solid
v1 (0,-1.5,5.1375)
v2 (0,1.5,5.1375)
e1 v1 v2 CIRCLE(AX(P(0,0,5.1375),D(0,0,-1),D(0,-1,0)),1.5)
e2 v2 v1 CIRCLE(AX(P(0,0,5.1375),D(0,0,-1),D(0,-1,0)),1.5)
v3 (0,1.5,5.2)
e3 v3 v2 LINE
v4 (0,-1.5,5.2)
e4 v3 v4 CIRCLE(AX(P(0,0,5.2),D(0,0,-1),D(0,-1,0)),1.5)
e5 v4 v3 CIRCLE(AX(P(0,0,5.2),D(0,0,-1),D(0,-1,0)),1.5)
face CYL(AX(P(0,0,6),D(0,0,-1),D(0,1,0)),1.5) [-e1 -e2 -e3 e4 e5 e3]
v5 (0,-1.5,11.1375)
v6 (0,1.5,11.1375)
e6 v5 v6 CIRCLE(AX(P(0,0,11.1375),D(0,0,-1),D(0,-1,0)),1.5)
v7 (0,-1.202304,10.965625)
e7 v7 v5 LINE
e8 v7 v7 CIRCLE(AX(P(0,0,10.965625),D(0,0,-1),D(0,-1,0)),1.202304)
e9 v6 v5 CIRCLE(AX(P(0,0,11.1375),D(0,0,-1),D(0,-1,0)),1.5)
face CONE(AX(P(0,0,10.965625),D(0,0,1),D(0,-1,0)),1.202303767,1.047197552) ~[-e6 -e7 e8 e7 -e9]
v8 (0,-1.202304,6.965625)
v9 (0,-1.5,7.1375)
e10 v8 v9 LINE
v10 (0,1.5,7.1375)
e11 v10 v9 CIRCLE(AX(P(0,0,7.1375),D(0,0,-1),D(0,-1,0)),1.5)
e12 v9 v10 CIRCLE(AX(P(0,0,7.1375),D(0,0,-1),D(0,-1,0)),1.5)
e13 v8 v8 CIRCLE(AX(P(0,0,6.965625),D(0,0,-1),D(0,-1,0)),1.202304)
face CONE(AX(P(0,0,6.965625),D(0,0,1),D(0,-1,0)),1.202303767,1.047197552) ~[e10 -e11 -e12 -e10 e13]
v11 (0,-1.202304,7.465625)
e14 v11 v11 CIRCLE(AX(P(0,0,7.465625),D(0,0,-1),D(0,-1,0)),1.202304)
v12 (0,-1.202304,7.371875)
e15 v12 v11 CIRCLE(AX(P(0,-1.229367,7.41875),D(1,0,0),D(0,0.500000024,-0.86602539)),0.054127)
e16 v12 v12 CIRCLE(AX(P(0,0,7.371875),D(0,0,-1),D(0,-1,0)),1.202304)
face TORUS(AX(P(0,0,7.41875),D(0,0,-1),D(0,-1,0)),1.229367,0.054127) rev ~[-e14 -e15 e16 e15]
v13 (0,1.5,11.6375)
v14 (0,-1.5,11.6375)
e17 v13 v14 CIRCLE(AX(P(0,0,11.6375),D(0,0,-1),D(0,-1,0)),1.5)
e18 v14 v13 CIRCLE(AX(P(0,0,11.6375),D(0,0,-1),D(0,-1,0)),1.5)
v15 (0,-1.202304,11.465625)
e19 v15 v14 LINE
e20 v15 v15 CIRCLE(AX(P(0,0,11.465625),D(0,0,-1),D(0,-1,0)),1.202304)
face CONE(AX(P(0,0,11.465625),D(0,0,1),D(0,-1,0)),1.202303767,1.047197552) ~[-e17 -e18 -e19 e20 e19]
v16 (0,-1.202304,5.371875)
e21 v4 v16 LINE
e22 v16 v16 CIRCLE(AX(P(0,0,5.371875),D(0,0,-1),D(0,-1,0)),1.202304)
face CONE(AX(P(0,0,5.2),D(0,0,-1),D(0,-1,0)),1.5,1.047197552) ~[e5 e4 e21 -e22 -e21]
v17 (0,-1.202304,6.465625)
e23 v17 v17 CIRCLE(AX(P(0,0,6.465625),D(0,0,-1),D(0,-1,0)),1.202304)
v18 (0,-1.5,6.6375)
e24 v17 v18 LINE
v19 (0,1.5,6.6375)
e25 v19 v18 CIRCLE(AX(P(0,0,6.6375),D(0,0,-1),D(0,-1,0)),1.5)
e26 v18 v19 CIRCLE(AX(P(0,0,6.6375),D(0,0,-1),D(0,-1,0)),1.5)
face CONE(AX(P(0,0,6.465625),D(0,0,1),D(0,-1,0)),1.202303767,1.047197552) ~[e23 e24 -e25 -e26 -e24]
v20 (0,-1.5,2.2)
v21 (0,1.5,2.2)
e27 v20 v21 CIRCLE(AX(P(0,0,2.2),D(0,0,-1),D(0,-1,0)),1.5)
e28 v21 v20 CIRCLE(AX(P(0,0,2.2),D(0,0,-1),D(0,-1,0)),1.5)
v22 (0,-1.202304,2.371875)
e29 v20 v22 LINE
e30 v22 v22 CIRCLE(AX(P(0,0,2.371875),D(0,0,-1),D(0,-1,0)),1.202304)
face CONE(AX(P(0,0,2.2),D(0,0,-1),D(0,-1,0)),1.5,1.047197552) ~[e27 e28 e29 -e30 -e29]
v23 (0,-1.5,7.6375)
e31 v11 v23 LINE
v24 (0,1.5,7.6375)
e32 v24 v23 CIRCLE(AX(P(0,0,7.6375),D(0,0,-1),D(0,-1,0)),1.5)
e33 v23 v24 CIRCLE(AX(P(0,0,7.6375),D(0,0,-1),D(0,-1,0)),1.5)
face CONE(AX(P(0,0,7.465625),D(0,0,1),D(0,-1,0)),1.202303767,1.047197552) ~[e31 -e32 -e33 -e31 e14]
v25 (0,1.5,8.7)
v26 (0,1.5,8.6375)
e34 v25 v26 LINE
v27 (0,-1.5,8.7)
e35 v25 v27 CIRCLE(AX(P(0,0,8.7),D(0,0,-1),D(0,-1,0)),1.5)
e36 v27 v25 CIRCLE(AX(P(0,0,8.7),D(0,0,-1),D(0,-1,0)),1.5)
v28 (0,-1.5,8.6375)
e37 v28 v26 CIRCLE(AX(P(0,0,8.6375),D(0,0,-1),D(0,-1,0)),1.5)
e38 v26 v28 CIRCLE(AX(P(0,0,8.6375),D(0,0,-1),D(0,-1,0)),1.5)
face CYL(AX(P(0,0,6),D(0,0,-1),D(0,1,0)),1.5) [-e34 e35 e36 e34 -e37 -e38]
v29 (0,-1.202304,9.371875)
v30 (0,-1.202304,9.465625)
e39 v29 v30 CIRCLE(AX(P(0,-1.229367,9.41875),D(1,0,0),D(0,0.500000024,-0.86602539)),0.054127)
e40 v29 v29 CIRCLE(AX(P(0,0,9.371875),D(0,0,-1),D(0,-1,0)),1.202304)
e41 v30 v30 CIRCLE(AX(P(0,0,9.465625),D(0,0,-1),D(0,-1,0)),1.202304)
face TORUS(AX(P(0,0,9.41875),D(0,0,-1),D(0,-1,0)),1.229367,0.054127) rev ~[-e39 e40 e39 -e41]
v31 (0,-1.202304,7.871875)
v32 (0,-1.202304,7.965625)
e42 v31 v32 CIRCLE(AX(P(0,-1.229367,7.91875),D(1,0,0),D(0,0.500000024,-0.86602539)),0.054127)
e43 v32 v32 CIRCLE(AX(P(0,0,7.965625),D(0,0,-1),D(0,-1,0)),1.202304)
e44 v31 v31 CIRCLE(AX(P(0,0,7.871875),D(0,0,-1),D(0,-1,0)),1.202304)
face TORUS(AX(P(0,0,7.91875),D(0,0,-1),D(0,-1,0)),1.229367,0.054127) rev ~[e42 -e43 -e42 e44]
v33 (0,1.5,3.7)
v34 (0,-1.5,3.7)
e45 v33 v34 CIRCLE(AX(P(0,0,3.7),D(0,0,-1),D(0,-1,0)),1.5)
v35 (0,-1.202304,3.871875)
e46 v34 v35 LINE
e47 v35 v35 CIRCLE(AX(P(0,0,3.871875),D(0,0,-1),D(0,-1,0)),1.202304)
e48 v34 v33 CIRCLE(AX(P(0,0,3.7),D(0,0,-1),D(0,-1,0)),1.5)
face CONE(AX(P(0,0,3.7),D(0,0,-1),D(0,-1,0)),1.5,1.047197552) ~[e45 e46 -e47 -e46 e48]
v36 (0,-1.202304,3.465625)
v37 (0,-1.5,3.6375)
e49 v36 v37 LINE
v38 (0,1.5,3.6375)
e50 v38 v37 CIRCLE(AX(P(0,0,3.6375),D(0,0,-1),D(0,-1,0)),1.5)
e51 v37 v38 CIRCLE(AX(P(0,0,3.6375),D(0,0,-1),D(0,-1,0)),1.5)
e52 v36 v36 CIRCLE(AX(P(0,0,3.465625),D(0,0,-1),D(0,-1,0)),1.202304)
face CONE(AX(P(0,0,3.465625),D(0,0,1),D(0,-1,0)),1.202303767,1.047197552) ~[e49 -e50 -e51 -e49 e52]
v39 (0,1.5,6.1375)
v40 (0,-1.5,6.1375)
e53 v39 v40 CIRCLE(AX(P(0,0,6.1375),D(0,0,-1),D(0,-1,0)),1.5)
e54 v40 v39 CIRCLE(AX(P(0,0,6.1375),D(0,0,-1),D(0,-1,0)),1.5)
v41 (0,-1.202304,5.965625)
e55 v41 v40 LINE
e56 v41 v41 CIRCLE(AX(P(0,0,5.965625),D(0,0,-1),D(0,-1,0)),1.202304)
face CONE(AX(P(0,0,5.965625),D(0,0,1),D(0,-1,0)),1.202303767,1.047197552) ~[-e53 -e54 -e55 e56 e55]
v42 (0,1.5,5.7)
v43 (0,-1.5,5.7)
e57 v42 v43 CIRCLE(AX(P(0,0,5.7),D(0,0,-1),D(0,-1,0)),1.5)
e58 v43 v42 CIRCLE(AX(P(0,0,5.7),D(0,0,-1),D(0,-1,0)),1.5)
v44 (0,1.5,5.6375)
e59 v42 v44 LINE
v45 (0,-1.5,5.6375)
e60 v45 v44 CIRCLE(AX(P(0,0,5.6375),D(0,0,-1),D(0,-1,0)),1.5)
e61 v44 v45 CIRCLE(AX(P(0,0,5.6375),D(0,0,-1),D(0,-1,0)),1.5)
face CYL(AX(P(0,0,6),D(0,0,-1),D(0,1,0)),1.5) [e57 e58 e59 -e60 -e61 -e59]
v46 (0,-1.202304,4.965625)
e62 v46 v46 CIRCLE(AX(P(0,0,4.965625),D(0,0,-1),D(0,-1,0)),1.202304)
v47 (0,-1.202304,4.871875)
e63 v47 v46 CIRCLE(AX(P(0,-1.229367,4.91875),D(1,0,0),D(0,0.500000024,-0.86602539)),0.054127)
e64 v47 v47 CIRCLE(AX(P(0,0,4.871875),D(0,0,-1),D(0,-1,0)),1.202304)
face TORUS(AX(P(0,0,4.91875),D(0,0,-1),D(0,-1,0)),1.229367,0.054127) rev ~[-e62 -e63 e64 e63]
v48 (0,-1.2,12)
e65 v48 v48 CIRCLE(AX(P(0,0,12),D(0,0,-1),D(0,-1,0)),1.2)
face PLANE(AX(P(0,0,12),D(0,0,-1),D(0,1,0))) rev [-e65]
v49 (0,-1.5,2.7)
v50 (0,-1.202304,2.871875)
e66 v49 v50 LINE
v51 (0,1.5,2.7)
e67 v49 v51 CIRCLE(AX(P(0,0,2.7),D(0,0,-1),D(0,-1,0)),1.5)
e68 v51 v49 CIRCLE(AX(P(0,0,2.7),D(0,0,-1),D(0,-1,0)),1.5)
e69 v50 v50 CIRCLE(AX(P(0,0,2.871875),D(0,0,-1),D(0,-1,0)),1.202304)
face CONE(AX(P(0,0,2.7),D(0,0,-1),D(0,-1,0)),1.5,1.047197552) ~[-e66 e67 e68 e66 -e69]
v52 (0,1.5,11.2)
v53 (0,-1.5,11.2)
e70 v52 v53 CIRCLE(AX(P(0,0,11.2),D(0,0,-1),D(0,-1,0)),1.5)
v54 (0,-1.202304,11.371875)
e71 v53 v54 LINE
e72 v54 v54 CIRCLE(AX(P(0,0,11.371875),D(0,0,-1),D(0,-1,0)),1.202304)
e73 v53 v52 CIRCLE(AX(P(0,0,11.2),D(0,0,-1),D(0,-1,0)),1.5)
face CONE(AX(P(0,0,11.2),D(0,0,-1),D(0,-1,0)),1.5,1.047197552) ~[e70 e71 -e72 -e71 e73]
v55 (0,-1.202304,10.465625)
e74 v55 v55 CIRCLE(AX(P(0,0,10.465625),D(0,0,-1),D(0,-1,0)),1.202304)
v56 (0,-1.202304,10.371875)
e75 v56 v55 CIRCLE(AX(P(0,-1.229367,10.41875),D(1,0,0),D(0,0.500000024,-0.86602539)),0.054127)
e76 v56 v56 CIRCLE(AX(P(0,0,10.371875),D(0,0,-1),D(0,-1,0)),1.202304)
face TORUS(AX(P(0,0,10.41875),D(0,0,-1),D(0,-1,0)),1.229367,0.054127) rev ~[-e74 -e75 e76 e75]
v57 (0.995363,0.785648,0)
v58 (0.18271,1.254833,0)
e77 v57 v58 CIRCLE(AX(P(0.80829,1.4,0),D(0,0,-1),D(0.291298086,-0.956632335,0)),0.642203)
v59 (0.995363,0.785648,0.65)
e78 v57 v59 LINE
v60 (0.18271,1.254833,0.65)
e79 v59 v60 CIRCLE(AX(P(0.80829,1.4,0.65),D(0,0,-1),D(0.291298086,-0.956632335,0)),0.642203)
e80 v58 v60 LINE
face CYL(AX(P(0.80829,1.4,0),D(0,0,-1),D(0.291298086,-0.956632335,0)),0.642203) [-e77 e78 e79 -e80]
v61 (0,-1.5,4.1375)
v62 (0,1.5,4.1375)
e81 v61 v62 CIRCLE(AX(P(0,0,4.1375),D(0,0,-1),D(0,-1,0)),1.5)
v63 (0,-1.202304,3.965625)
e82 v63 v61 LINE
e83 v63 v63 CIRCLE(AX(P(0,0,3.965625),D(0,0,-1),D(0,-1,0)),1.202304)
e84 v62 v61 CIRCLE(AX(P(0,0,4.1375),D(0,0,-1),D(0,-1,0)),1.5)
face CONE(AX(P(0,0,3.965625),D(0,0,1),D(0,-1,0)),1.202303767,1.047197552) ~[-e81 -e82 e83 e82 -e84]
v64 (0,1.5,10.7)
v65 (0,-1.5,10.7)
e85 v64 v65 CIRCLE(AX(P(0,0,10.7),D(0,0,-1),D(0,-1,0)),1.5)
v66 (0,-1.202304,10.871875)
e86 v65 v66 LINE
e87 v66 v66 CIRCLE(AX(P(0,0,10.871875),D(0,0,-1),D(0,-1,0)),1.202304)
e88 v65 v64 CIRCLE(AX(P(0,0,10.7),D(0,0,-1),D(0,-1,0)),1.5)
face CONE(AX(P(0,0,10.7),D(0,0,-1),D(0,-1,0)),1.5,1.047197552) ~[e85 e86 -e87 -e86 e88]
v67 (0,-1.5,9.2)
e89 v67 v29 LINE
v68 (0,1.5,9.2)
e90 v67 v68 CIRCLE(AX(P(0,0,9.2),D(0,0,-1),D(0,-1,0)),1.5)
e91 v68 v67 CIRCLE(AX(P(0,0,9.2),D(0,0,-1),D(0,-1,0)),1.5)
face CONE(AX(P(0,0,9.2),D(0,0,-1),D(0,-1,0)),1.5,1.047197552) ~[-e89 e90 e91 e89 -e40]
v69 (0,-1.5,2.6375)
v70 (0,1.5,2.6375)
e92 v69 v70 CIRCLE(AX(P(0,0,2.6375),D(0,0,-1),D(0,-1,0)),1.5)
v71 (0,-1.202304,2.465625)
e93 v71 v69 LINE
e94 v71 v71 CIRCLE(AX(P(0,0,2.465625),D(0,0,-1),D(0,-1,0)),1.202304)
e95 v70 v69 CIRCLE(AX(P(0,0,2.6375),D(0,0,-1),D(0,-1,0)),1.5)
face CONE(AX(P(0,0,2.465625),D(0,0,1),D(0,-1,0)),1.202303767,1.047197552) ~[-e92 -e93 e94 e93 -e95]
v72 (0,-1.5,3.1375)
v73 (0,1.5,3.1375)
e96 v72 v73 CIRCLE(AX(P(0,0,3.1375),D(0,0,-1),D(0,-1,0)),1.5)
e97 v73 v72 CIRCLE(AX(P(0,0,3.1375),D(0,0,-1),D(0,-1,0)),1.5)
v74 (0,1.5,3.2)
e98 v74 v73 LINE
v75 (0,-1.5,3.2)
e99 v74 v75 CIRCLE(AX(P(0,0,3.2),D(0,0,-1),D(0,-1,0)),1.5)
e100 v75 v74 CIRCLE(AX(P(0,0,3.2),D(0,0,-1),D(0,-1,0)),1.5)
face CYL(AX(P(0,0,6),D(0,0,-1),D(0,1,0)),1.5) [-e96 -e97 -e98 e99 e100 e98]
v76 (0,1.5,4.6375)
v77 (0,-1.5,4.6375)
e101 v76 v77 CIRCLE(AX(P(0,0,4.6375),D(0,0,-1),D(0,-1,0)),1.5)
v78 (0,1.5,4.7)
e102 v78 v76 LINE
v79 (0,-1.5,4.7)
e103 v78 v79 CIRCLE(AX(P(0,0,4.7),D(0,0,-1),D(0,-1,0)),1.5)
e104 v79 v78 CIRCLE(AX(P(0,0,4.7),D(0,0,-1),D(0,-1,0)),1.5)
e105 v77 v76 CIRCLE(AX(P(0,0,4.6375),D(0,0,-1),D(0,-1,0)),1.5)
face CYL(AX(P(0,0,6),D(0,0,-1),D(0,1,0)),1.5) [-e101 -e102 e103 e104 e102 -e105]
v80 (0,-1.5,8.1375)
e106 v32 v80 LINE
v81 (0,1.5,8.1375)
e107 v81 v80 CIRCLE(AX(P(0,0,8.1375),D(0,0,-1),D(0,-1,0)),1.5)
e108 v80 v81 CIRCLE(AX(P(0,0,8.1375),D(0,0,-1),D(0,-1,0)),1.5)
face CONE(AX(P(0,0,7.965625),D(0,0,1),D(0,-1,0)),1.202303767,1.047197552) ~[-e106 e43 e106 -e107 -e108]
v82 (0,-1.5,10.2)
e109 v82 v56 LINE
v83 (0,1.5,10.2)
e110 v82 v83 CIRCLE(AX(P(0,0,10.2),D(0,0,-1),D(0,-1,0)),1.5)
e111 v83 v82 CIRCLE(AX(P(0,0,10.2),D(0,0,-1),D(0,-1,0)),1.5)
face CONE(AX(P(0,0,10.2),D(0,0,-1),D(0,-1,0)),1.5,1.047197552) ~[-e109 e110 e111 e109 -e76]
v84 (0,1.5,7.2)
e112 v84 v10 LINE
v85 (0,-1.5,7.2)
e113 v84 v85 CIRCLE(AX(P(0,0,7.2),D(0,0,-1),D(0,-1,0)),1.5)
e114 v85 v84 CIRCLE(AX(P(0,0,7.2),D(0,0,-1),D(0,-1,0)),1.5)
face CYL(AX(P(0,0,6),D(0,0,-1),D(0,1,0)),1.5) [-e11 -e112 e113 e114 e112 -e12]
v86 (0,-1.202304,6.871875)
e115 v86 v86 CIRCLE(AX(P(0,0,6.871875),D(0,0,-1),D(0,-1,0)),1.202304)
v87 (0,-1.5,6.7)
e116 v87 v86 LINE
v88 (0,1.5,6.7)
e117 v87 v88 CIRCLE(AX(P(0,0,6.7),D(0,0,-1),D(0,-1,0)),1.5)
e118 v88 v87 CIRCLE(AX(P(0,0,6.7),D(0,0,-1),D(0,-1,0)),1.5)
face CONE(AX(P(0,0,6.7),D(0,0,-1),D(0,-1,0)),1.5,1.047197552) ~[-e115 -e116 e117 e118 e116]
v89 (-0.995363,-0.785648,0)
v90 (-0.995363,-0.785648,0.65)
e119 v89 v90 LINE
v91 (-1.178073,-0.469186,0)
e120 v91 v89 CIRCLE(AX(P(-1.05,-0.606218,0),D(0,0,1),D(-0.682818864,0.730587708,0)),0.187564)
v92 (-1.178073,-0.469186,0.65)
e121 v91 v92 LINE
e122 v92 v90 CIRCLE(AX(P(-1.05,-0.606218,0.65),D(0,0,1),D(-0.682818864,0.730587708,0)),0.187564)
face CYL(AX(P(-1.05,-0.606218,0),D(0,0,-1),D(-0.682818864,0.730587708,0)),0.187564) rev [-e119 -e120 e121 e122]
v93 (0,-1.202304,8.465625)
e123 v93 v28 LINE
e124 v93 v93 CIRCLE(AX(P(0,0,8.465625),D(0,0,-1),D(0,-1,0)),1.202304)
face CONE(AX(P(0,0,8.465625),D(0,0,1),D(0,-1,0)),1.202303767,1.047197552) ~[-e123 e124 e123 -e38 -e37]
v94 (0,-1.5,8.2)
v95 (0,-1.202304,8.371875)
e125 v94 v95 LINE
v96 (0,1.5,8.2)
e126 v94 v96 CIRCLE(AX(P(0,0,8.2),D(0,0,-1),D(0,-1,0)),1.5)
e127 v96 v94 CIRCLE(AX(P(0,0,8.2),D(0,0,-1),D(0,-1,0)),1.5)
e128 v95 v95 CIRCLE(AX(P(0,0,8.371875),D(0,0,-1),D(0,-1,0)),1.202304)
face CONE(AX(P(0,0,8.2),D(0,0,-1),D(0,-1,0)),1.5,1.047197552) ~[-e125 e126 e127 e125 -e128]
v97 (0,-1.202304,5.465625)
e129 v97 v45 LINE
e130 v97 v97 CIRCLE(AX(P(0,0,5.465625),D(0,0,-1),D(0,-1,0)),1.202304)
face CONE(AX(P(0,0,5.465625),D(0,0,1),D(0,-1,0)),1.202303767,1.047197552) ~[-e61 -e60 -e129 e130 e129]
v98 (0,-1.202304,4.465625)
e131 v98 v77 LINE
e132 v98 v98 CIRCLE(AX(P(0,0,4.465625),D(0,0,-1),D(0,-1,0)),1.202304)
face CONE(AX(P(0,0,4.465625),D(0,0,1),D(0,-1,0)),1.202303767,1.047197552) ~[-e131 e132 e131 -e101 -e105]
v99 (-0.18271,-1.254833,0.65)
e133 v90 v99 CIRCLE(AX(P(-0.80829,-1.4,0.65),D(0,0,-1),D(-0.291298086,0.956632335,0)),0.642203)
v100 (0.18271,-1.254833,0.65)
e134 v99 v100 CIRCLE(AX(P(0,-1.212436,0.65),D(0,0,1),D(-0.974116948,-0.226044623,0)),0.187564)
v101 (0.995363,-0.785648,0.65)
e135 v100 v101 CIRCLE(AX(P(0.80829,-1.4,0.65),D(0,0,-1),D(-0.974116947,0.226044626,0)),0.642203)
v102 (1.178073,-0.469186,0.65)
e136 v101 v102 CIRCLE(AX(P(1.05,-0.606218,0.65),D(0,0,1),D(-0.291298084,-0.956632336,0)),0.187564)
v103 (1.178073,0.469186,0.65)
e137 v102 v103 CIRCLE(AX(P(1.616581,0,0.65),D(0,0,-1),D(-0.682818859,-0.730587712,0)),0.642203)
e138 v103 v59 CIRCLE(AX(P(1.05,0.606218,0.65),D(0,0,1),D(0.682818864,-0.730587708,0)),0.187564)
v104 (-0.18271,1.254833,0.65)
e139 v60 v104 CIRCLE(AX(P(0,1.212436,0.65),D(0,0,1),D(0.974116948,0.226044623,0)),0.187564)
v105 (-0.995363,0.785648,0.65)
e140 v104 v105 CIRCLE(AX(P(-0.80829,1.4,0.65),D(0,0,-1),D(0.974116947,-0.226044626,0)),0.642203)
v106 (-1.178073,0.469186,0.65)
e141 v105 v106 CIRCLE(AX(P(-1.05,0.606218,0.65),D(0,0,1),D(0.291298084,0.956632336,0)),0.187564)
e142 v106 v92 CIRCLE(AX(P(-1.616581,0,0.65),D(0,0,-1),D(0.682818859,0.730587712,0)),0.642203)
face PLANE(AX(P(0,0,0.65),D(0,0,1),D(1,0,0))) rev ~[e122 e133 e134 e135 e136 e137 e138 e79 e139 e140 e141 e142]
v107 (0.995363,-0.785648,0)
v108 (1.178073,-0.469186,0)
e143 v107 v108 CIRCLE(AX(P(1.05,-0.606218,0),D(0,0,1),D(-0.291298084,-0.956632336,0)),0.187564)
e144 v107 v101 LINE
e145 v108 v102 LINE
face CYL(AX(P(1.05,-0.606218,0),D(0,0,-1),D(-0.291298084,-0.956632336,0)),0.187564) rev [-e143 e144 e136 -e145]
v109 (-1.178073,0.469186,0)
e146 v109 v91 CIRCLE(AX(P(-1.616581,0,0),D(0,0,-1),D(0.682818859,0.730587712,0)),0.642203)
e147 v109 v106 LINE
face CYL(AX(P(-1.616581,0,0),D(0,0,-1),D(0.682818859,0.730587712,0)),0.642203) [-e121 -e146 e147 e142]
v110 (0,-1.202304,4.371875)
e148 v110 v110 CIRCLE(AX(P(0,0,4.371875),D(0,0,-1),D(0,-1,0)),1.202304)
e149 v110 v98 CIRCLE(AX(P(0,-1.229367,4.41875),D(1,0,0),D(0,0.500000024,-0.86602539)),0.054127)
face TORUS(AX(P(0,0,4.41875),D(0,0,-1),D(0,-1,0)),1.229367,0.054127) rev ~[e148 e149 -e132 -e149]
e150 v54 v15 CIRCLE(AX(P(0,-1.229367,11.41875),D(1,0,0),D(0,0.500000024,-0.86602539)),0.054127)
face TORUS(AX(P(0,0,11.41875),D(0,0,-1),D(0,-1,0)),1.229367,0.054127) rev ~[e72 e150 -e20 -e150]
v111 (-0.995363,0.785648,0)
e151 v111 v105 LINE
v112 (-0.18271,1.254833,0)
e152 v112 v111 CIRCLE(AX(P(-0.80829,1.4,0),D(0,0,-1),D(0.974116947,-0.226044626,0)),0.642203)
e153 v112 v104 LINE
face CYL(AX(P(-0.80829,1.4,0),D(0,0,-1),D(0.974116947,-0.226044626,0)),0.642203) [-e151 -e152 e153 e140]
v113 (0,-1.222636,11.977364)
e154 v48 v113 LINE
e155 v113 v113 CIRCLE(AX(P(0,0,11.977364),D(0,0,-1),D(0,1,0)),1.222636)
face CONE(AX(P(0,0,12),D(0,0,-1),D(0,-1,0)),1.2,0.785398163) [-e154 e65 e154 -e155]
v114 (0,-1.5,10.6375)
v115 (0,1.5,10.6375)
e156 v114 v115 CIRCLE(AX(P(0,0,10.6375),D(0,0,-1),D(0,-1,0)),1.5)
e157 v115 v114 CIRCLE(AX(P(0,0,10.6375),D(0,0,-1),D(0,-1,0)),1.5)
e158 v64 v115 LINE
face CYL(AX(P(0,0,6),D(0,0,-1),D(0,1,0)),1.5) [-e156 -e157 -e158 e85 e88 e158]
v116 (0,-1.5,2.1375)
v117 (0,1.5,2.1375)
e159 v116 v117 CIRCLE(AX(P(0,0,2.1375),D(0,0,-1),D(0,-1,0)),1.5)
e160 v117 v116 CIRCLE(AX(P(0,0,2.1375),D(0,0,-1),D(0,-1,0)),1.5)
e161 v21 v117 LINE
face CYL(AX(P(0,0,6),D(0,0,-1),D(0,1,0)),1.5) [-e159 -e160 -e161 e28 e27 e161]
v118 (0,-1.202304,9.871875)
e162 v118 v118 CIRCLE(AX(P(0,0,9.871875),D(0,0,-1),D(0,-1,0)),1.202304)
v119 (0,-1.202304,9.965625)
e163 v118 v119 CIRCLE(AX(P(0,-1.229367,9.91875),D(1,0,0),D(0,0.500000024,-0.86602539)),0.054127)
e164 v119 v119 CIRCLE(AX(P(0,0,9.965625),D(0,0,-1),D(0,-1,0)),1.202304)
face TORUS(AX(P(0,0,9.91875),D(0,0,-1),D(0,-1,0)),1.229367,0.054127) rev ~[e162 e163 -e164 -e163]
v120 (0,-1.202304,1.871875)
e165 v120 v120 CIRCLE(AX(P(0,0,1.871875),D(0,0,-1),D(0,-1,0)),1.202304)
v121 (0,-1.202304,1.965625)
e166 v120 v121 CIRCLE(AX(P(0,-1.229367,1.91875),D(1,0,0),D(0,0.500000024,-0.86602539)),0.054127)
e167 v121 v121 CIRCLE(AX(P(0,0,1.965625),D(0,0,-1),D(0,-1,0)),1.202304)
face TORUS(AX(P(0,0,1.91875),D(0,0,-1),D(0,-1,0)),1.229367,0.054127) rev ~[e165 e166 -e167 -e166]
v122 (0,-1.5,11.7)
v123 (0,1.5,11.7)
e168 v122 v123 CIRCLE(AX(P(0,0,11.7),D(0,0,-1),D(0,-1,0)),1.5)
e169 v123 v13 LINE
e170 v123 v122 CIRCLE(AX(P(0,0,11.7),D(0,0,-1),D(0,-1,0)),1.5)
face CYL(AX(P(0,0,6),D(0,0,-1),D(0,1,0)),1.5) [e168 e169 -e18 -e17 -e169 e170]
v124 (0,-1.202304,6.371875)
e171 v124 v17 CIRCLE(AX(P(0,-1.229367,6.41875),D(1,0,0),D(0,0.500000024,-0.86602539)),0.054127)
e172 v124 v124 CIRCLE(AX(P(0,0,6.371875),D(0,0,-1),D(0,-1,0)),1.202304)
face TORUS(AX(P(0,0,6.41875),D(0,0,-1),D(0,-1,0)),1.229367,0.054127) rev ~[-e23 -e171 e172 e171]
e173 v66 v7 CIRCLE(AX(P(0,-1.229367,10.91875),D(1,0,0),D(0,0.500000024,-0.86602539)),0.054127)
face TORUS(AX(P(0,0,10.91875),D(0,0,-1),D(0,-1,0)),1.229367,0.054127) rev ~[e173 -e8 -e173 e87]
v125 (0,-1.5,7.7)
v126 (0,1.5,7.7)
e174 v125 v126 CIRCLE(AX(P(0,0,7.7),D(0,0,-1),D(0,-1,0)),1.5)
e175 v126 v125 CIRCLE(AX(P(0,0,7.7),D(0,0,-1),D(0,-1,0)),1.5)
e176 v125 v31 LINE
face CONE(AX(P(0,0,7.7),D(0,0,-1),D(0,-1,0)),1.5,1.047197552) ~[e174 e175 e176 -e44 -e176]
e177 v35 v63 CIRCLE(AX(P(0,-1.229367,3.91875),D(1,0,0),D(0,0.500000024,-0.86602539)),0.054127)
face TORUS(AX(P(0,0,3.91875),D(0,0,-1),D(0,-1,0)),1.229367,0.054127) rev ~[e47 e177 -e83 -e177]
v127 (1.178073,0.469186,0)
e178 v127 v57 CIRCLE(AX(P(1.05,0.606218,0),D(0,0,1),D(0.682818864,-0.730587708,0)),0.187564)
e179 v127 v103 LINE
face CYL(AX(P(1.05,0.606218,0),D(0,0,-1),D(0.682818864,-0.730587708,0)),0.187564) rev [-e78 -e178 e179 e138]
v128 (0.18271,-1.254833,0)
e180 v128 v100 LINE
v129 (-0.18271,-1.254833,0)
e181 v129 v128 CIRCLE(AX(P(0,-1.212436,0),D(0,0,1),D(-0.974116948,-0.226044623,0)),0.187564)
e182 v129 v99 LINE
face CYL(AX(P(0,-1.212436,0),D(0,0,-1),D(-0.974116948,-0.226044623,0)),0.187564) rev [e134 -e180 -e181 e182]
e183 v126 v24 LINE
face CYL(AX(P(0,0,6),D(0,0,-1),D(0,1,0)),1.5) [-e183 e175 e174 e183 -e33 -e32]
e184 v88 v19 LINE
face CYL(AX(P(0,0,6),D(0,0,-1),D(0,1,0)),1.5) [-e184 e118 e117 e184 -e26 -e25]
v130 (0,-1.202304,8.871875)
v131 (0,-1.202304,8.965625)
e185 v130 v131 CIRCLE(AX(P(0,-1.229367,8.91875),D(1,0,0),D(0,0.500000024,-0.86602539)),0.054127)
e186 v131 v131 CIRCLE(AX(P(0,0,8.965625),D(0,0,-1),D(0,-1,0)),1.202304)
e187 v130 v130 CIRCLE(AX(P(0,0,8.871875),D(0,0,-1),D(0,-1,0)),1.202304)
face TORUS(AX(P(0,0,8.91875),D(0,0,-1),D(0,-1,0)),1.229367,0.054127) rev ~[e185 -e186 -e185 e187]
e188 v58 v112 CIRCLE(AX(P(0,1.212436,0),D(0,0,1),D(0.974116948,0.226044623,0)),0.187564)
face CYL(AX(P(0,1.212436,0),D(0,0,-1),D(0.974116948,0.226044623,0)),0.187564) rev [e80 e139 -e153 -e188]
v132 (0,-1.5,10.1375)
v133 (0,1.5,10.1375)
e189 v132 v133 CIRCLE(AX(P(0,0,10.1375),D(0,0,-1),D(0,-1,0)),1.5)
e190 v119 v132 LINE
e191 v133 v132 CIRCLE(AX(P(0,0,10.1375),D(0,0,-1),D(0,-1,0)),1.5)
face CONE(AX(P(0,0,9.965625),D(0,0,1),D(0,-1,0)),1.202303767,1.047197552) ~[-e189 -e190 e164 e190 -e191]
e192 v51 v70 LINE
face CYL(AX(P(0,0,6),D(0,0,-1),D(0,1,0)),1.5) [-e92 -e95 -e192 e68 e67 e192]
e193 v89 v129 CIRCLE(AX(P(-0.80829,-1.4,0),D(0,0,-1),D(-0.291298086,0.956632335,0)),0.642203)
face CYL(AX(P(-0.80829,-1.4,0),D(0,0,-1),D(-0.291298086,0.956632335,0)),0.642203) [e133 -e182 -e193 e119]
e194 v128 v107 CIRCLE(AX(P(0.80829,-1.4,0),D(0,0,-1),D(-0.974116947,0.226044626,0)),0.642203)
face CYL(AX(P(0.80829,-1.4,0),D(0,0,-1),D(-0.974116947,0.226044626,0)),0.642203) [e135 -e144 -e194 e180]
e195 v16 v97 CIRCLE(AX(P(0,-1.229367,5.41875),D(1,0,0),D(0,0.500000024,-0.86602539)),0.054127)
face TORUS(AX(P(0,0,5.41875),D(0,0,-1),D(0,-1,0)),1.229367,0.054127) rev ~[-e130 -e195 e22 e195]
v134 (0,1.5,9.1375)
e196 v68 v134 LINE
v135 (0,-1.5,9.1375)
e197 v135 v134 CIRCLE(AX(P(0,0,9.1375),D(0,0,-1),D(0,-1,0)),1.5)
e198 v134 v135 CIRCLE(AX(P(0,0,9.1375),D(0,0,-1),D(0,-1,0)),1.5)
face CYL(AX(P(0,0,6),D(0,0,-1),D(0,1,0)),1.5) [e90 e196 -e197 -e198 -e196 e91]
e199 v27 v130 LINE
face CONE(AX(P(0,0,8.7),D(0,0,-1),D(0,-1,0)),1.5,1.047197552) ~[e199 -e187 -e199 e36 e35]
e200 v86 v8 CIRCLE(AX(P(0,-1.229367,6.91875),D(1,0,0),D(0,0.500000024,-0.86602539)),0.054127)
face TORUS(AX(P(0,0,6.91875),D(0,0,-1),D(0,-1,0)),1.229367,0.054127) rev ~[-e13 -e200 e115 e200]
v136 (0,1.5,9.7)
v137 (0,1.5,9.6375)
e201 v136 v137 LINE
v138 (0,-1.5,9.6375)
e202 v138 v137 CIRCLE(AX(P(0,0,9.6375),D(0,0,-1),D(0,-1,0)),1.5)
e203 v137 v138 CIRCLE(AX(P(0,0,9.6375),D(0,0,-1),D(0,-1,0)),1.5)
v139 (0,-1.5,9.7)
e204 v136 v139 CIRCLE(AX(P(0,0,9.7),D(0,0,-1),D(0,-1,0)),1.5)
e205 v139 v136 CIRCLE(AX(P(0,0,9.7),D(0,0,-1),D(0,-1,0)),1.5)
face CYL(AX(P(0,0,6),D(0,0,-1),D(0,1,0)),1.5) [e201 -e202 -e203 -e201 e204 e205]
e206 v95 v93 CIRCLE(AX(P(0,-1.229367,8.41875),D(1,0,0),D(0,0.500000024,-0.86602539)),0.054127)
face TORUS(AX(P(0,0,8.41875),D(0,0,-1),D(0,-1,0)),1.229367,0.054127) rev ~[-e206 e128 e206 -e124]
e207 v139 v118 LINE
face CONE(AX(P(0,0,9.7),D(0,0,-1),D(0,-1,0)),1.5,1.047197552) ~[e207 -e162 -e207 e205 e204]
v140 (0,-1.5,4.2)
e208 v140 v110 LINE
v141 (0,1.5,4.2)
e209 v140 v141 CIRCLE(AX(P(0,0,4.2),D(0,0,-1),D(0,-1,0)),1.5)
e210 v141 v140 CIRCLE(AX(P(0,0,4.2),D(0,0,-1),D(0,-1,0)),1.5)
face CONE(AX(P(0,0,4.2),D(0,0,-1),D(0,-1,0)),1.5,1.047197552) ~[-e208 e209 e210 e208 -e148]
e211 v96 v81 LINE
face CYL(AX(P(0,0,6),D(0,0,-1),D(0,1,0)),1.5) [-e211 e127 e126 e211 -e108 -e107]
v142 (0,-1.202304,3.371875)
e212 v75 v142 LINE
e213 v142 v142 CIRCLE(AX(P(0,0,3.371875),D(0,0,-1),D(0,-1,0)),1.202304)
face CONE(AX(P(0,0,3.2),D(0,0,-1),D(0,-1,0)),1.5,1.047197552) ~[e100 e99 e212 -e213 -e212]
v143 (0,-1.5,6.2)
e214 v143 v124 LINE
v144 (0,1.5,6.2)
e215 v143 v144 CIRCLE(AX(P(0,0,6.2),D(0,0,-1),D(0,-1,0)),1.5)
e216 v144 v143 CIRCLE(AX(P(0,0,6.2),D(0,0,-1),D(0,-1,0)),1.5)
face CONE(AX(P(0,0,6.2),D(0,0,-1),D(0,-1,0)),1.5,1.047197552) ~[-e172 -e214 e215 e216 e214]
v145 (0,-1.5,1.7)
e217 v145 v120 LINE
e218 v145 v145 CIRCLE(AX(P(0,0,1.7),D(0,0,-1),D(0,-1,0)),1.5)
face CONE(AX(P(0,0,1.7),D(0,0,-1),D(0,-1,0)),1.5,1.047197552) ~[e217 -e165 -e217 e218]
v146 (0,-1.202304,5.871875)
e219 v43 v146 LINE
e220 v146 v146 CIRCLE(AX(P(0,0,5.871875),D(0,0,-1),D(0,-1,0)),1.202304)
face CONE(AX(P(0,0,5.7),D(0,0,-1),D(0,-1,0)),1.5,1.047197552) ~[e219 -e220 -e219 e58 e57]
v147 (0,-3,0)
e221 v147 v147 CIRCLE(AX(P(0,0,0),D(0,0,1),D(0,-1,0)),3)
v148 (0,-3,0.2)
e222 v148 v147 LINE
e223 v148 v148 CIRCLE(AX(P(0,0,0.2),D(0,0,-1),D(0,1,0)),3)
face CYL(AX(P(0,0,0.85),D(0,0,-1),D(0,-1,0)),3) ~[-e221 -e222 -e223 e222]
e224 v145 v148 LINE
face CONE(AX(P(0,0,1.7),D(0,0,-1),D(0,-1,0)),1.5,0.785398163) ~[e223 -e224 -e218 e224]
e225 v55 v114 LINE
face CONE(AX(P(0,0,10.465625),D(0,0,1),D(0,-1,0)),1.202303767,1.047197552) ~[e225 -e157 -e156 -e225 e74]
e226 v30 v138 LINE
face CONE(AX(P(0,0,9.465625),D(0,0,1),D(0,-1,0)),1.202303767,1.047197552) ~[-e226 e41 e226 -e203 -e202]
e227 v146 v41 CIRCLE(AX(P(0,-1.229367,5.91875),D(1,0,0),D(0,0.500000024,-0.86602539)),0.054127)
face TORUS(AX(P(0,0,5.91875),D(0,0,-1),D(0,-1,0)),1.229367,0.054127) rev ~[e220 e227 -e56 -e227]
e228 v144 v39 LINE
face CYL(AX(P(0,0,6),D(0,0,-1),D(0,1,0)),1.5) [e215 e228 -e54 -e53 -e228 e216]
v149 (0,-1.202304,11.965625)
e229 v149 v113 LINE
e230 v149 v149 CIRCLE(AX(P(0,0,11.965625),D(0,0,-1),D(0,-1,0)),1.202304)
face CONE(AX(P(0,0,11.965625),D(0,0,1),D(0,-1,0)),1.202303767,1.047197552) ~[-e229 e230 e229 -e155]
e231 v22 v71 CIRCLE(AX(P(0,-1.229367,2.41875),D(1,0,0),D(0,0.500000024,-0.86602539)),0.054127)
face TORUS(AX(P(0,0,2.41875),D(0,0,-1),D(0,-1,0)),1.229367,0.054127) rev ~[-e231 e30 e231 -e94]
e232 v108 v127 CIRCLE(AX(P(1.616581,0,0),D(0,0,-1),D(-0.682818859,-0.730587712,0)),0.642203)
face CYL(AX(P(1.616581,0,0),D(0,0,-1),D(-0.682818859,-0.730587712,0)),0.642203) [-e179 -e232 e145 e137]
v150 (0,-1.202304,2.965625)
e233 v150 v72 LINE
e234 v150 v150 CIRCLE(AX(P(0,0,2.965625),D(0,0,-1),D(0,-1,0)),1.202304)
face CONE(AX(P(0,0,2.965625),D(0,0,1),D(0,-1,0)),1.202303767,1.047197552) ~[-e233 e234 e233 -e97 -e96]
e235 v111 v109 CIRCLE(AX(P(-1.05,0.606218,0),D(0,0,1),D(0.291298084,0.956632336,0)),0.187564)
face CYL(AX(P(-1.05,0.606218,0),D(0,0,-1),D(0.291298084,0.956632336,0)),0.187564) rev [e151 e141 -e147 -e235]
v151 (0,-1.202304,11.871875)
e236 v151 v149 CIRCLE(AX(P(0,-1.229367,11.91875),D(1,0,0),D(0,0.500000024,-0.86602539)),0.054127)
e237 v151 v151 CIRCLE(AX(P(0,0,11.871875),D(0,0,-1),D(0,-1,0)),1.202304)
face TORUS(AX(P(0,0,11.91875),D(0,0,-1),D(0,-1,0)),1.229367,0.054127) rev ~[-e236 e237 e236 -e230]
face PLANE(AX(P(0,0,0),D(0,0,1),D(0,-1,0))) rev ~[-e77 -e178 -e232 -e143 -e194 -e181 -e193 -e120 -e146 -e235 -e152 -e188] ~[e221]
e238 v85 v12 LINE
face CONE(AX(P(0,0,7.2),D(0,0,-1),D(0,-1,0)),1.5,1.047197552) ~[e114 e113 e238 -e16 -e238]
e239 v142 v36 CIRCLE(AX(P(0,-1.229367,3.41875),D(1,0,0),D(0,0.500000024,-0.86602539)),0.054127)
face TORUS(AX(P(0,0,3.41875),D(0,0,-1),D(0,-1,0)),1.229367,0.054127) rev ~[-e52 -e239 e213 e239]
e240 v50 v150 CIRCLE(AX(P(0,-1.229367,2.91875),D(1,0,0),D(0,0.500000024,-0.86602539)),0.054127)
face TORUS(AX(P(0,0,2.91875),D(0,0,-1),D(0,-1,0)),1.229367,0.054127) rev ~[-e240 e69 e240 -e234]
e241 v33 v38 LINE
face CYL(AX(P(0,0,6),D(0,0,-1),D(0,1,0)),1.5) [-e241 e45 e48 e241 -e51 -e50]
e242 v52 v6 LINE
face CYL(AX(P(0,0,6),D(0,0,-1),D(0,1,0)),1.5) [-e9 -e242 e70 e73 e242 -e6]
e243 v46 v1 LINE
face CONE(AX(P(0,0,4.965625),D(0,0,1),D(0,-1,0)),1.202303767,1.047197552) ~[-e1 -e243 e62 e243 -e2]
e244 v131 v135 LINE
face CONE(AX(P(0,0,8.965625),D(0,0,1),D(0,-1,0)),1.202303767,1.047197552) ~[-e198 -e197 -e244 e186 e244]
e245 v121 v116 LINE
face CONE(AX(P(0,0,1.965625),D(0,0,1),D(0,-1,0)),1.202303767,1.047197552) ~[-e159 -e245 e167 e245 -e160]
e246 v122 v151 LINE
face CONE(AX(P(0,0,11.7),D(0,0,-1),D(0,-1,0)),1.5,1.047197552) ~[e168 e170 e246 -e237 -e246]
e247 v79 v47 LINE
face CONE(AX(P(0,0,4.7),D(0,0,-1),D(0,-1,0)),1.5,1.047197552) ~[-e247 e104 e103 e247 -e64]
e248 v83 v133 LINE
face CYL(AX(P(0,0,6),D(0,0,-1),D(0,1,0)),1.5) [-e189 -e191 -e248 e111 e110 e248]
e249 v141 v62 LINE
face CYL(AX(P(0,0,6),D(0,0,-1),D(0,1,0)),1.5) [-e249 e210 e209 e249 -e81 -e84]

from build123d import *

# Parameters (mm, degrees)
SKETCH5_W           = 12
SKETCH5_H           = 1.5
THREAD_SIMPLE_COUNT = 21
THREAD_SIMPLE_PITCH = 0.5
SKETCH15_W          = 1.7
SKETCH15_H          = 3
CUT_HEAD_KEY_DEPTH  = 0.65


with BuildPart() as part:
    # Sketch5 → body (revolve)
    with BuildSketch(Plane(origin=(0, 0, 0), x_dir=(0, 0, -1), z_dir=(1, 0, 0))):
        with Locations((-6, 0.75)):
            Rectangle(SKETCH5_W, SKETCH5_H)
    revolve(axis=Axis((0, 0, 12), (0, 0, -1)))

    # Sketch11 → cut-chamfer-start (revolve, cut)
    with BuildSketch(Plane(origin=(0, 0, 0), x_dir=(0, 0, -1), z_dir=(1, 0, 0))):
        Polygon((-12, -1.5), (-12, -1.2), (-11.7, -1.5), align=None)
    revolve(axis=Axis((0, 0, 12), (0, 0, -1)), mode=Mode.SUBTRACT)

    # Sketch8 → thread-single (revolve, cut)
    with BuildSketch(Plane(origin=(0, 0, 0), x_dir=(0, 0, -1), z_dir=(1, 0, 0))):
        with BuildLine():
            Line((-2.1375, -1.5), (-1.7, -1.5))
            Line((-1.7, -1.5), (-1.871875, -1.202303767))
            ThreePointArc((-1.871875, -1.202303767), (-1.91875, -1.175240474), (-1.965625, -1.202303767))
            Line((-1.965625, -1.202303767), (-2.1375, -1.5))
        make_face()
    thread_single = revolve(axis=Axis((0, 0, 12), (0, 0, -1)), mode=Mode.SUBTRACT)

    # thread-simple: thread-single ×21
    with Locations(*[(0, 0, i * THREAD_SIMPLE_PITCH) for i in range(1, THREAD_SIMPLE_COUNT)]):
        add(thread_single, mode=Mode.SUBTRACT)

    # Sketch15 → body-head (revolve)
    with BuildSketch(Plane(origin=(0, 0, 0), x_dir=(0, 0, -1), z_dir=(1, 0, 0))):
        with Locations((-0.85, -1.5)):
            Rectangle(SKETCH15_W, SKETCH15_H)
    revolve(axis=Axis((0, 0, 0), (0, 0, 1)))

    # Sketch19 → cut-head-profile (revolve, cut)
    with BuildSketch(Plane(origin=(0, 0, 0), x_dir=(0, 0, -1), z_dir=(1, 0, 0))):
        Polygon((-1.7, -3.2), (-1.7, -1.5), (0, -3.2), align=None)
    revolve(axis=Axis((0, 0, 0), (0, 0, 1)), mode=Mode.SUBTRACT)

    # Sketch25 → cut-head-key (cut)
    with BuildSketch(Plane.XY):
        with BuildLine():
            ThreePointArc((0.182709695, 1.254833497), (0, 1.4), (-0.182709695, 1.254833497))
            ThreePointArc((-0.182709695, 1.254833497), (-0.487188951, 0.843836016), (-0.995362839, 0.785647986))
            ThreePointArc((-0.995362839, 0.785647986), (-1.212435565, 0.7), (-1.178072534, 0.469185512))
            ThreePointArc((-1.178072534, 0.469185512), (-0.974377901, 0), (-1.178072534, -0.469185512))
            ThreePointArc((-1.178072534, -0.469185512), (-1.212435565, -0.7), (-0.995362839, -0.785647986))
            ThreePointArc((-0.995362839, -0.785647986), (-0.487188951, -0.843836016), (-0.182709695, -1.254833497))
            ThreePointArc((-0.182709695, -1.254833497), (0, -1.4), (0.182709695, -1.254833497))
            ThreePointArc((0.182709695, -1.254833497), (0.487188951, -0.843836016), (0.995362839, -0.785647986))
            ThreePointArc((0.995362839, -0.785647986), (1.212435565, -0.7), (1.178072534, -0.469185512))
            ThreePointArc((1.178072534, -0.469185512), (0.974377901, 0), (1.178072534, 0.469185512))
            ThreePointArc((1.178072534, 0.469185512), (1.212435565, 0.7), (0.995362839, 0.785647986))
            ThreePointArc((0.995362839, 0.785647986), (0.487188951, 0.843836016), (0.182709695, 1.254833497))
        make_face()
    extrude(amount=CUT_HEAD_KEY_DEPTH, mode=Mode.SUBTRACT)


solid = part.part
